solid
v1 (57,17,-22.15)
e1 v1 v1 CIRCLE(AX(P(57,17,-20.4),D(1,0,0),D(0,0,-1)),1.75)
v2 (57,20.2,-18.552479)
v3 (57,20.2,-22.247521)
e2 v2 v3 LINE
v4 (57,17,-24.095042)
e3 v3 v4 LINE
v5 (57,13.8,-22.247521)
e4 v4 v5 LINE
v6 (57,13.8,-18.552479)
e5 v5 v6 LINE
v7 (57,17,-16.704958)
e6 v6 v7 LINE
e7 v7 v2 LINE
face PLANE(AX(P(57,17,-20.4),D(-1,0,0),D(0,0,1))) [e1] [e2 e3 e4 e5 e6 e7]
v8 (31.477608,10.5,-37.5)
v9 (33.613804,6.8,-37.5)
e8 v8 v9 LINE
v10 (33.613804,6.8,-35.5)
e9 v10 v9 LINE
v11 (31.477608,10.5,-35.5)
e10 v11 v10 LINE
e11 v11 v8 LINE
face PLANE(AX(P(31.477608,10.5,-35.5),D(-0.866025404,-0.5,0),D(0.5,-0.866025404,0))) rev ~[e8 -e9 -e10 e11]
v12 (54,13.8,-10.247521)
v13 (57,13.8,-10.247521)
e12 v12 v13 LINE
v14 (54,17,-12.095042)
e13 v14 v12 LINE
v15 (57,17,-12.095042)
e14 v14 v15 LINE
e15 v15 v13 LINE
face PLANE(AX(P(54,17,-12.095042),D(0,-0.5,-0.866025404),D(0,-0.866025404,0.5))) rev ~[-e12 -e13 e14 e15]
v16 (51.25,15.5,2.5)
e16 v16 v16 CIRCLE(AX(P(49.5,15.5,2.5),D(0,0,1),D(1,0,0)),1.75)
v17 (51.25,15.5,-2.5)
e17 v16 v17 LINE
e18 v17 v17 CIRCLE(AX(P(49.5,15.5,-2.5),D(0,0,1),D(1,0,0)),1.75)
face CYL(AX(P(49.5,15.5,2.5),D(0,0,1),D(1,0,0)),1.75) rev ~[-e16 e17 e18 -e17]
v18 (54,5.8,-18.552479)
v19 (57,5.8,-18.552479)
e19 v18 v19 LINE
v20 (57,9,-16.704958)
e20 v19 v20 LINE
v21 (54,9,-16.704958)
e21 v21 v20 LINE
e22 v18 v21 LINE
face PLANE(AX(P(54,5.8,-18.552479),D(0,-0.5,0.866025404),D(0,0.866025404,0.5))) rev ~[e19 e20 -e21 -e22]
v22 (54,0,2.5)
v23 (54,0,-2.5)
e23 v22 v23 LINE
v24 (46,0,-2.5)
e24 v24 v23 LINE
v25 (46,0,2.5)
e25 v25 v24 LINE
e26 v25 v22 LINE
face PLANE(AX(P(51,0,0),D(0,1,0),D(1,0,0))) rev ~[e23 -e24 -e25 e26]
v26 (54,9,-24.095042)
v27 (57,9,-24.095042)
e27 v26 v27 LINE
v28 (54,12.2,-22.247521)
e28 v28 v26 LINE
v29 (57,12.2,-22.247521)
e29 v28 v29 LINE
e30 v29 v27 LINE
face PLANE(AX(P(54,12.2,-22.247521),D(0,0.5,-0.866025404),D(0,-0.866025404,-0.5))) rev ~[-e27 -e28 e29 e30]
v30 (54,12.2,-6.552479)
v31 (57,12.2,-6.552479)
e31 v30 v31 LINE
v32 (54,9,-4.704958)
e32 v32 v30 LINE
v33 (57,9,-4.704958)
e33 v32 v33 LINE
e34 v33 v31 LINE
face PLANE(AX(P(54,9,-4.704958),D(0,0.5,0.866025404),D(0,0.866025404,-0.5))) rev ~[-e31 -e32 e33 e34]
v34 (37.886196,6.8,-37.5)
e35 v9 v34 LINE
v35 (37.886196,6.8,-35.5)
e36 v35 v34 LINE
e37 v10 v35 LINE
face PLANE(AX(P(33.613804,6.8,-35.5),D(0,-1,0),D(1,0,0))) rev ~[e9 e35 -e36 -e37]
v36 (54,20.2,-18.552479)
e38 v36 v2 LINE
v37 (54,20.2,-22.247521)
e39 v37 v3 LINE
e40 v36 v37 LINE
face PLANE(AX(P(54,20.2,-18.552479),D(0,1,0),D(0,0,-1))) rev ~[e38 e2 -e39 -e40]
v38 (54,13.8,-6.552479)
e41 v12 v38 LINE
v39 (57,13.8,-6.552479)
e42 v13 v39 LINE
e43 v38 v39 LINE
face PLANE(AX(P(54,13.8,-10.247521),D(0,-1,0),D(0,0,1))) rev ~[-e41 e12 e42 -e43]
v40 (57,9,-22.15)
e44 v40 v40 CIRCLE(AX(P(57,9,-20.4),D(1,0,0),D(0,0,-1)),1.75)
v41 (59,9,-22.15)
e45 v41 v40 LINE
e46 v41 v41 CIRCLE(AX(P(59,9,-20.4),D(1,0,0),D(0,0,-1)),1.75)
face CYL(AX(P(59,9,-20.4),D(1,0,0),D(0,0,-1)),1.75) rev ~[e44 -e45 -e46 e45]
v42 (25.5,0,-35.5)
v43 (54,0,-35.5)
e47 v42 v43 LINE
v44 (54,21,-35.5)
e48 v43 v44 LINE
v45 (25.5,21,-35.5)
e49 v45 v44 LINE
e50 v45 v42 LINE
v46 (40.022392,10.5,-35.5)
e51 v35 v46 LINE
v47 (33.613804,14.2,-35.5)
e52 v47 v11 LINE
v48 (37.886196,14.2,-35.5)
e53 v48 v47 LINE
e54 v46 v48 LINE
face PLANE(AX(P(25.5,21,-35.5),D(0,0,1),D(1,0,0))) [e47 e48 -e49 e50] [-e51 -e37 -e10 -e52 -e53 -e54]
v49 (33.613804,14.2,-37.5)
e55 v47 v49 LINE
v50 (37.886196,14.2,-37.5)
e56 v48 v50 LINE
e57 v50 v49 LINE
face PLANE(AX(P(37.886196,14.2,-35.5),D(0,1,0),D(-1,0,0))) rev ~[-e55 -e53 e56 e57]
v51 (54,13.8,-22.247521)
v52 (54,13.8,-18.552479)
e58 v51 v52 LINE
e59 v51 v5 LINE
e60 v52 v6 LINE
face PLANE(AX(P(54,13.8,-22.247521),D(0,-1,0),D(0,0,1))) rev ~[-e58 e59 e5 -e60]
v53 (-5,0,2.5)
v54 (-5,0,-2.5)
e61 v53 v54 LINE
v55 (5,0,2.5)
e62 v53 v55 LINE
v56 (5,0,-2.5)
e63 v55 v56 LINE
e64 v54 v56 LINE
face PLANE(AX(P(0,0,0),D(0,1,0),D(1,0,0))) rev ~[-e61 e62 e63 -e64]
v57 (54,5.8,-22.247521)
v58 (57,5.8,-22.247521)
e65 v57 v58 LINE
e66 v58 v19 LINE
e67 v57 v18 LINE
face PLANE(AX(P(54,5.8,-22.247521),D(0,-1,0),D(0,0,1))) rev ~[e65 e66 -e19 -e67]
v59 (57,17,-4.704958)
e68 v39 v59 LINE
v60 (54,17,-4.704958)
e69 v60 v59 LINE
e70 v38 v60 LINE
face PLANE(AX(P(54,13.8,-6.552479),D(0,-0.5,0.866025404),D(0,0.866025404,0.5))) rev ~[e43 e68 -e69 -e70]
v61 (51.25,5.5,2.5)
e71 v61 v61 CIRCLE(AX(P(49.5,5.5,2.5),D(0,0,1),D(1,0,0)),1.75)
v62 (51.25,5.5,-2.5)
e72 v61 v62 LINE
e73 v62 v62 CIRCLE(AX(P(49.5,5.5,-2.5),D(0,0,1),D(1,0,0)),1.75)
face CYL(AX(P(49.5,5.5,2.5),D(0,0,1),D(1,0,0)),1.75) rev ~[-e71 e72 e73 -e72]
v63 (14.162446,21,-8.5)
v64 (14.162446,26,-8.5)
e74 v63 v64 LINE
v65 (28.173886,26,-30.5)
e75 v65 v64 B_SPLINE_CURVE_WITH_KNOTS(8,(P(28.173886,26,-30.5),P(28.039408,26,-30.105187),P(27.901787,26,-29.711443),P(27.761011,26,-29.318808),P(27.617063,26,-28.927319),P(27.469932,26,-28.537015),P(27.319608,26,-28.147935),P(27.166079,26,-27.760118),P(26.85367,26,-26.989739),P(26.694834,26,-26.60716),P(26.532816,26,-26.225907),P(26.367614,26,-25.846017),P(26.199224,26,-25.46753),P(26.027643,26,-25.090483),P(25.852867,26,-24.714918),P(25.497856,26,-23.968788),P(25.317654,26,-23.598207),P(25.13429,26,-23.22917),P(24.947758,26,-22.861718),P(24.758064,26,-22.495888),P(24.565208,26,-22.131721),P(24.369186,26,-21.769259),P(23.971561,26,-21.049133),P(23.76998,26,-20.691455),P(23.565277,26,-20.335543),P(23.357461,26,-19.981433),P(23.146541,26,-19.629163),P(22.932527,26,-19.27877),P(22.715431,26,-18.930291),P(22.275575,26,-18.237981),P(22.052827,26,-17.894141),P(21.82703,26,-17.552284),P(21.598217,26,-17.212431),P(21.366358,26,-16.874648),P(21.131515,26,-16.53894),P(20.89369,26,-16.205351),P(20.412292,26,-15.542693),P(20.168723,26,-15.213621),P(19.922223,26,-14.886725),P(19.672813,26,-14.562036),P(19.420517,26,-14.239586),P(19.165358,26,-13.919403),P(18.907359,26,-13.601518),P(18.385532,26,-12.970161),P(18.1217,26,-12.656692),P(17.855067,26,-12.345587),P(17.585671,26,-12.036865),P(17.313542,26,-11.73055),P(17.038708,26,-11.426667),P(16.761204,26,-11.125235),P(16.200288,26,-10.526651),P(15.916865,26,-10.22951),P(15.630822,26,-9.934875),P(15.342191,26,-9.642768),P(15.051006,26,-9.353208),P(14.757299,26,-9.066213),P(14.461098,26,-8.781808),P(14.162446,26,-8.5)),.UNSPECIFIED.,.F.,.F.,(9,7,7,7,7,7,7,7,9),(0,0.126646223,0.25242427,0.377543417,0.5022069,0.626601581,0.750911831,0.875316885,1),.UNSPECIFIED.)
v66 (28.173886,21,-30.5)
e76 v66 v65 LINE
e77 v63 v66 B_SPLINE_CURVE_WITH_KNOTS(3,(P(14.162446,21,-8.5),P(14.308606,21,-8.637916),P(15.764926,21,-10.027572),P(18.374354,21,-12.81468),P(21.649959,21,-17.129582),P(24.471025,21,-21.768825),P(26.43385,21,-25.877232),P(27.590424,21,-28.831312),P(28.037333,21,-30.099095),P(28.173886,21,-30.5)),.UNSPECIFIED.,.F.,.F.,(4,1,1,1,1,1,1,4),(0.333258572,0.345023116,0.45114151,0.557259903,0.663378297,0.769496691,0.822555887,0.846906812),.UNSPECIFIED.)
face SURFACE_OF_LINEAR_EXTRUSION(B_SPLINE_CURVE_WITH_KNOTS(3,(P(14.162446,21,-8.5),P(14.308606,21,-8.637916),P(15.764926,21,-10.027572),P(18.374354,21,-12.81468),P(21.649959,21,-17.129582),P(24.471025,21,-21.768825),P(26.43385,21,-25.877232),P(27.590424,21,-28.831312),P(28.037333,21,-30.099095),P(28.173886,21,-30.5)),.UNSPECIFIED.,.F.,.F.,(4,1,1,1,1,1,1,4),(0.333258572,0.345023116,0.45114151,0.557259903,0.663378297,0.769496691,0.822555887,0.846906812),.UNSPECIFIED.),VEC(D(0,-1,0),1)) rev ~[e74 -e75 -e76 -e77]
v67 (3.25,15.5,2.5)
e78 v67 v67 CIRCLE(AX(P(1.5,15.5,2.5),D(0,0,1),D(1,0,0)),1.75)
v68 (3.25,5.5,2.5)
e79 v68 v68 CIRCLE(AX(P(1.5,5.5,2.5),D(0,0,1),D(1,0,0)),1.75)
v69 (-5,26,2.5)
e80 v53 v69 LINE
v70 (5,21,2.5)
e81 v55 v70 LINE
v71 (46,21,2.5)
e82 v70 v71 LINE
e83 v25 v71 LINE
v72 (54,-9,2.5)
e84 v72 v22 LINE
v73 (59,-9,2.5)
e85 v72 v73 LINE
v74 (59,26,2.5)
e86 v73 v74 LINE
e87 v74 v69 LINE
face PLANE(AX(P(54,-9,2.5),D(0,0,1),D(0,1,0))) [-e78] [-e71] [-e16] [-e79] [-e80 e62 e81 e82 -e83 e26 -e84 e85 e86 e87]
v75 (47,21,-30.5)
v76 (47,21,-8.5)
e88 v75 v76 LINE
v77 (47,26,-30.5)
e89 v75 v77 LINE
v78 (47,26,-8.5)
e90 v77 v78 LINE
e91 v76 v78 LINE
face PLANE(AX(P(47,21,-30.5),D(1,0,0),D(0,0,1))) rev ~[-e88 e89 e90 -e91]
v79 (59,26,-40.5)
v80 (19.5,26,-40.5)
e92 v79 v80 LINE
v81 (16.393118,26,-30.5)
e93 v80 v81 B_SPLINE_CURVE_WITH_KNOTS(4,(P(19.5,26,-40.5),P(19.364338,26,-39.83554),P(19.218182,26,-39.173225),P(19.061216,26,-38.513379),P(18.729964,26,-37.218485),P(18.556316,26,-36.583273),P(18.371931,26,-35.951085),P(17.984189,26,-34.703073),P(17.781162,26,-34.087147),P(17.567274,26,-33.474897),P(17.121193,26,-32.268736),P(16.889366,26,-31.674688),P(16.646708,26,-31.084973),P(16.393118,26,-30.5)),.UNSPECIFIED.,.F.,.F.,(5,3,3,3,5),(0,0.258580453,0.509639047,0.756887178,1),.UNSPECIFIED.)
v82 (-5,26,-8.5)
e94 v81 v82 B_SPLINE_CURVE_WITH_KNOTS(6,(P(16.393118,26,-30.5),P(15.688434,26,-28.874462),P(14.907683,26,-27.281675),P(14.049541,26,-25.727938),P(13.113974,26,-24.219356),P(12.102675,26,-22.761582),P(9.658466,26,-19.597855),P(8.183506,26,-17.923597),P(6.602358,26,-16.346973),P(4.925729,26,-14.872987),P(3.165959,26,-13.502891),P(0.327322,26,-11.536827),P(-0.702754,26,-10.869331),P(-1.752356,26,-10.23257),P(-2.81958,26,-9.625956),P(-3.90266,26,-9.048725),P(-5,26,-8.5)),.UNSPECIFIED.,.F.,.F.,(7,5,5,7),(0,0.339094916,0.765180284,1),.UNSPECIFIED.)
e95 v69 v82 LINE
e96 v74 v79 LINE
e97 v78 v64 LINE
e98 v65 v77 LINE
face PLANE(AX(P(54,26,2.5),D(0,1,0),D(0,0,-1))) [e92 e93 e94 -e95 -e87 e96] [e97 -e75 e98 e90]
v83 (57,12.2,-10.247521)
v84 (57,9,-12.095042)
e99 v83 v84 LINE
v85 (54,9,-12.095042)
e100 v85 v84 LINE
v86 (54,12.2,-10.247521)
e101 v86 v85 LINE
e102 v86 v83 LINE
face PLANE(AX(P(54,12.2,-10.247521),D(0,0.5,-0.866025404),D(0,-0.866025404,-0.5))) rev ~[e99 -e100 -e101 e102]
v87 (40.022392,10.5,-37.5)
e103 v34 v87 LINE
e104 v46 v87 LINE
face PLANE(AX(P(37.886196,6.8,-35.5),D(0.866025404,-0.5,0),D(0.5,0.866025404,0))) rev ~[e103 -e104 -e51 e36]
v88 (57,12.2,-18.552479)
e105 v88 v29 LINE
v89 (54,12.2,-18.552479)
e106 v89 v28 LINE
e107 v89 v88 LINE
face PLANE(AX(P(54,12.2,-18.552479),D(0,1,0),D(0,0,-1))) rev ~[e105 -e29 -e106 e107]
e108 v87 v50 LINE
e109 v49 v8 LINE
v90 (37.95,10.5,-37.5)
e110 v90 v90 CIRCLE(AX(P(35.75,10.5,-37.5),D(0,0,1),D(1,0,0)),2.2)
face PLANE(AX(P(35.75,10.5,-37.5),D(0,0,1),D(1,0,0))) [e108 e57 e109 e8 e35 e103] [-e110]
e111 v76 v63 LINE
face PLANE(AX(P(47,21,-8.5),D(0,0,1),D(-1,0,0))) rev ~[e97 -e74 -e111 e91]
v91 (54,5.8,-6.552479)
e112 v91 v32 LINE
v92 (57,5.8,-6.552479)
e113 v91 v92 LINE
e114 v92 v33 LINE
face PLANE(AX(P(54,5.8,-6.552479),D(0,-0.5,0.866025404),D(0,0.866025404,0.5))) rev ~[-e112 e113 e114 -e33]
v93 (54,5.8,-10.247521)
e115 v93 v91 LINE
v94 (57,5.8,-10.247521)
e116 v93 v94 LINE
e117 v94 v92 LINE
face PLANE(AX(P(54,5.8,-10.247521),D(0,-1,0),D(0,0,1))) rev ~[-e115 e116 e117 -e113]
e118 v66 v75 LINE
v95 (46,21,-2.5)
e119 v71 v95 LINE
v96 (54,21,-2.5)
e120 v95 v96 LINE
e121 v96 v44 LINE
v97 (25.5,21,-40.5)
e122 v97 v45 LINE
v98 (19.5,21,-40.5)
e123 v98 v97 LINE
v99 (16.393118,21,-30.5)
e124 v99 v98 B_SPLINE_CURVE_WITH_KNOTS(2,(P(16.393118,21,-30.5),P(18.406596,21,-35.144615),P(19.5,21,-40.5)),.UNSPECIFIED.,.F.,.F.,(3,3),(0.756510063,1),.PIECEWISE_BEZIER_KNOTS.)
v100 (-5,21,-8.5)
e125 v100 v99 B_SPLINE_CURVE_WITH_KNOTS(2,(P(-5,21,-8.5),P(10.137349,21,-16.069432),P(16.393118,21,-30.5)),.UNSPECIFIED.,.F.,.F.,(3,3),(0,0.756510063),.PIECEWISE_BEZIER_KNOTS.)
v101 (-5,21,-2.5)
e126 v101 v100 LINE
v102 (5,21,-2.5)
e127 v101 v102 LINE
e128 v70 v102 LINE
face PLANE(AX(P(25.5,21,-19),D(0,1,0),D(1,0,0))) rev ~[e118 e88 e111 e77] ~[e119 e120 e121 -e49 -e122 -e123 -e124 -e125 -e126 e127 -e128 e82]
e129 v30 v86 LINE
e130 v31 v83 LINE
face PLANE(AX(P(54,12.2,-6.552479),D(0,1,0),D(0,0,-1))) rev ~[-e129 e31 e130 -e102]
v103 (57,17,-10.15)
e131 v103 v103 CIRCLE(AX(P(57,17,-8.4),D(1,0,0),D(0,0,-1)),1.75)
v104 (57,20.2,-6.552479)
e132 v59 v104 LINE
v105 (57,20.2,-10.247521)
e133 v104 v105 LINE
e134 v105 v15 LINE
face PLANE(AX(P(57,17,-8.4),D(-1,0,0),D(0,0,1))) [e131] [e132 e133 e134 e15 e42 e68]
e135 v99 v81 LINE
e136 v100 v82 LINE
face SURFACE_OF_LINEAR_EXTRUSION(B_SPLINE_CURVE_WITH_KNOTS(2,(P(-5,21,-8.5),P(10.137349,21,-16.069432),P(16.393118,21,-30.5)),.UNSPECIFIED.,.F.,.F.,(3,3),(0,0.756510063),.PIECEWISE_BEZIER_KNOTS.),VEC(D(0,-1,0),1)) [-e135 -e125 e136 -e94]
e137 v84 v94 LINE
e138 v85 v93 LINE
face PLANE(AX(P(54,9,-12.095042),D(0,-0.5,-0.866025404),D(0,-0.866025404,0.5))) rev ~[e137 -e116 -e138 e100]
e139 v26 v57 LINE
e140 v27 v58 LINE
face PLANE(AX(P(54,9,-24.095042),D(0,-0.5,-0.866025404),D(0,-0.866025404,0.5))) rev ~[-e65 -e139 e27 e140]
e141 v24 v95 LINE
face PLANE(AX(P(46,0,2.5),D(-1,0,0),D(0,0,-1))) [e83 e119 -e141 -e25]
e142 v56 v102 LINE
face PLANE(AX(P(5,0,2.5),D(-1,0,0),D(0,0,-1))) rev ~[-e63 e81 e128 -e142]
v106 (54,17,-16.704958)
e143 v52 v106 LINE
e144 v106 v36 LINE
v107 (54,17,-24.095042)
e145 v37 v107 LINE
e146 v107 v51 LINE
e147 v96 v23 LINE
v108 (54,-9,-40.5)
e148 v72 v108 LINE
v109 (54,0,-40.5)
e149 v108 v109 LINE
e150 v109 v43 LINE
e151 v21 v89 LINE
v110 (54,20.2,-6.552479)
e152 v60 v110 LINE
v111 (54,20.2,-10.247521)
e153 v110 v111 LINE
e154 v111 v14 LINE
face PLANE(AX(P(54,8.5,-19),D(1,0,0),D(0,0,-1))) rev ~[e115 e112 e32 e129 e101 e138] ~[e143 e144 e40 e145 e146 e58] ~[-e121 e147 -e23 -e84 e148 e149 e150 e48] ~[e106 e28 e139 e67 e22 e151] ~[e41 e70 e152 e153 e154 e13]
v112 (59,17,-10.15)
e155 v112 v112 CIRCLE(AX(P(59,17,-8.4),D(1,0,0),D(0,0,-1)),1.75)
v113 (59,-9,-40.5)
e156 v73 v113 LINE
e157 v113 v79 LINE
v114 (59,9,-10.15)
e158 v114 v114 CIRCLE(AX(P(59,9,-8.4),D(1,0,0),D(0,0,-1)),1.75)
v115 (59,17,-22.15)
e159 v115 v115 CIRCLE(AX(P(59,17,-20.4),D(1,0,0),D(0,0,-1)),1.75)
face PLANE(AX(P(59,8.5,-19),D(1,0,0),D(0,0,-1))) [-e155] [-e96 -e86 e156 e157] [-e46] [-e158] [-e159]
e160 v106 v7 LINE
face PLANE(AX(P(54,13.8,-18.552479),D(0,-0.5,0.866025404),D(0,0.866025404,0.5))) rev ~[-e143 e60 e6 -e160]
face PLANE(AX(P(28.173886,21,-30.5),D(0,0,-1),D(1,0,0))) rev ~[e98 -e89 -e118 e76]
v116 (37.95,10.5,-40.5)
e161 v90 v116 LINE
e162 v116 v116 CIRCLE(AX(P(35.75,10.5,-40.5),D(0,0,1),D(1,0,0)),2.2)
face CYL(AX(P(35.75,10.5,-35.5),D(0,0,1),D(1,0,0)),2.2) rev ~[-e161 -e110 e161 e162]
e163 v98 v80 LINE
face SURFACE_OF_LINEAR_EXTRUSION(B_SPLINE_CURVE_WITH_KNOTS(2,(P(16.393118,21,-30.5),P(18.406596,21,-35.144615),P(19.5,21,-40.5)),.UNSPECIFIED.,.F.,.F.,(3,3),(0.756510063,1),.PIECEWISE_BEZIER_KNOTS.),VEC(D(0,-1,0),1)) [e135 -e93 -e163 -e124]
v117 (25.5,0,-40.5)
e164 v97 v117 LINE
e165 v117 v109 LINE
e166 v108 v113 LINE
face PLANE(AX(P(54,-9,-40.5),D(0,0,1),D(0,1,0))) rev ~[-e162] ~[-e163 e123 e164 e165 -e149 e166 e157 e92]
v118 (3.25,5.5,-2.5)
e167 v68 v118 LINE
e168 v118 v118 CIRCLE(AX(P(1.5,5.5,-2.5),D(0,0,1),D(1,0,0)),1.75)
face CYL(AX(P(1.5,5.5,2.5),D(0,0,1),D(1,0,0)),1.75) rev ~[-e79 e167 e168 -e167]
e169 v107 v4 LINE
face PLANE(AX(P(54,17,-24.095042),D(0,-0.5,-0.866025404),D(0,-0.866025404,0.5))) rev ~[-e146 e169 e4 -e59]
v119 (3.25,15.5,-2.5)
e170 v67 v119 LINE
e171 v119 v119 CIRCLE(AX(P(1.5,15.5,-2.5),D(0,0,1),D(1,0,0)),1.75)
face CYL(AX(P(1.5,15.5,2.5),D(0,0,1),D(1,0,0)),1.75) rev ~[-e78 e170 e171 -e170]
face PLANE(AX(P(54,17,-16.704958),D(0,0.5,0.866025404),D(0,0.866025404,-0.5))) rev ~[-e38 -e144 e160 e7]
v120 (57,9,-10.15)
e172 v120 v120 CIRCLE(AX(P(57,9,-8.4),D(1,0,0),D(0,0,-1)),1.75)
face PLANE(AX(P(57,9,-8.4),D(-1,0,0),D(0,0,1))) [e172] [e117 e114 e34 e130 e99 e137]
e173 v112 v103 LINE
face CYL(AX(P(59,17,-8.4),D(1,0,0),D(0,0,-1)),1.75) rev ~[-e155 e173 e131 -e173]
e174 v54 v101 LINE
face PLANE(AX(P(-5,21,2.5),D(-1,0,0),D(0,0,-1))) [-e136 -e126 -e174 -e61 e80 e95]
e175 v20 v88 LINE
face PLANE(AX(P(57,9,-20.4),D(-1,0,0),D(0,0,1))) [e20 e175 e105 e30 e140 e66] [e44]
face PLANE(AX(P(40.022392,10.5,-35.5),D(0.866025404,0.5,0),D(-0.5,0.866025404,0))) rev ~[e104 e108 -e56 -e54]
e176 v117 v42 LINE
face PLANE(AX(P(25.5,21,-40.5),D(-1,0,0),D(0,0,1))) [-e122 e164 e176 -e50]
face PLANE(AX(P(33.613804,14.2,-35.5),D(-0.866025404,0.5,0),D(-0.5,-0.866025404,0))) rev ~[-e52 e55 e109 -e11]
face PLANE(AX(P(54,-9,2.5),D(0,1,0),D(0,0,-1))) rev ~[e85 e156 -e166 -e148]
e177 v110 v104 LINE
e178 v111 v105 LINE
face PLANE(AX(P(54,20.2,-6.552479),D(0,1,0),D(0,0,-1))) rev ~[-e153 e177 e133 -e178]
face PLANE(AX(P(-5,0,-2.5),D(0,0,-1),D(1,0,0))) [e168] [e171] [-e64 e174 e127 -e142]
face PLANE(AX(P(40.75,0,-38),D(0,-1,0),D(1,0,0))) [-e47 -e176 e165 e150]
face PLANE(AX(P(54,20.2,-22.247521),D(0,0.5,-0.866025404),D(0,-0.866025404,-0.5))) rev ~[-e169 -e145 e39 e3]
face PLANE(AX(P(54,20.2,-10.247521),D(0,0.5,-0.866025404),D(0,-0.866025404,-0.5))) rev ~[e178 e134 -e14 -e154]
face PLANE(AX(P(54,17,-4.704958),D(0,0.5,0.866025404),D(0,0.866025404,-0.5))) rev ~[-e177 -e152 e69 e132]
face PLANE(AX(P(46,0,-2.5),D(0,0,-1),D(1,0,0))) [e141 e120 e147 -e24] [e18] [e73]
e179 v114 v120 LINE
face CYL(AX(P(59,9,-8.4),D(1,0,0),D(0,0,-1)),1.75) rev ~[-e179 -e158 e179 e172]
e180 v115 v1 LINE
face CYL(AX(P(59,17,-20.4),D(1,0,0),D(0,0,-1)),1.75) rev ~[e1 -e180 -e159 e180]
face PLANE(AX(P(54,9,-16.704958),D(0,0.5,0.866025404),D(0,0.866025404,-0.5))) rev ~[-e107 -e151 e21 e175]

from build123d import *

# Parameters (mm, degrees)
SKETCH1_W                = 10
SKETCH1_H                = 5
BOSS_EXTRUDE1_DEPTH      = 21
BOSS_EXTRUDE1_2_DEPTH    = 21
SKETCH2_W                = 61
SKETCH2_H                = 43
BOSS_EXTRUDE2_DEPTH      = 5
SKETCH3_W                = 30.5
SKETCH3_H                = 5
BOSS_EXTRUDE3_DEPTH      = 21
CUT_EXTRUDE1_REACH       = 74.498
SKETCH4_R                = 2.2
CUT_EXTRUDE2_REACH       = 77.24
SKETCH5_R                = 1.75
CUT_EXTRUDE4_REACH       = 74.231
BOSS_EXTRUDE4_DEPTH      = 3
BOSS_EXTRUDE4_DEPTH_BACK = 2
SKETCH10_W               = 43
SKETCH10_H               = 35
CUT_EXTRUDE5_DEPTH       = 2
CUT_EXTRUDE6_REACH       = 82.077
SKETCH12_R               = 1.75
CUT_EXTRUDE7_DEPTH       = 3


with BuildPart() as part:
    # Sketch1 → Boss-Extrude1 (new body)
    with BuildSketch(Plane(origin=(0, 0, 0), x_dir=(1, 0, 0), z_dir=(0, 1, 0))):
        Rectangle(SKETCH1_W, SKETCH1_H)
    extrude(amount=BOSS_EXTRUDE1_DEPTH)



with BuildPart() as body_2:
    # Sketch1 → Boss-Extrude1 2 (new body)
    with BuildSketch(Plane(origin=(0, 0, 0), x_dir=(1, 0, 0), z_dir=(0, 1, 0))):
        with Locations((51, 0)):
            Rectangle(SKETCH1_W, SKETCH1_H)
    extrude(amount=BOSS_EXTRUDE1_2_DEPTH)


with BuildPart() as part_1:
    add(part.part)

    add(body_2.part)  # Boss-Extrude2 merges body 2
    # Sketch2 → Boss-Extrude2 (add)
    with BuildSketch(Plane(origin=(0, 21, 0), x_dir=(1, 0, 0), z_dir=(0, 1, 0))):
        with Locations((25.5, 19)):
            Rectangle(SKETCH2_W, SKETCH2_H)
    extrude(amount=BOSS_EXTRUDE2_DEPTH)

    # Sketch3 → Boss-Extrude3 (add)
    with BuildSketch(Plane.XZ.offset(-21)):
        with Locations((40.75, -38)):
            Rectangle(SKETCH3_W, SKETCH3_H)
    extrude(amount=BOSS_EXTRUDE3_DEPTH)

    # Sketch4 → Cut-Extrude1 (cut, up to next)
    with BuildSketch(Plane.XY.offset(-35.5), mode=Mode.PRIVATE) as cut_extrude1_sk1:
        with Locations((35.75, 10.5)):
            Circle(SKETCH4_R)
    cut_extrude1_tool1 = extrude(cut_extrude1_sk1.sketch, amount=-CUT_EXTRUDE1_REACH, mode=Mode.PRIVATE) & part_1.part
    add(cut_extrude1_tool1.solids().sort_by_distance((35.75, 10.5, -35.5))[0], mode=Mode.SUBTRACT)

    # Sketch5 → Cut-Extrude2 (cut, up to next)
    with BuildSketch(Plane.XY.offset(2.5), mode=Mode.PRIVATE) as cut_extrude2_sk1:
        with Locations((1.5, 15.5)):
            Circle(SKETCH5_R)
    cut_extrude2_tool1 = extrude(cut_extrude2_sk1.sketch, amount=-CUT_EXTRUDE2_REACH, mode=Mode.PRIVATE) & part_1.part
    # Sketch5 → Cut-Extrude2 (cut, up to next)
    with BuildSketch(Plane.XY.offset(2.5), mode=Mode.PRIVATE) as cut_extrude2_sk2:
        with Locations((49.5, 15.5)):
            Circle(SKETCH5_R)
    cut_extrude2_tool2 = extrude(cut_extrude2_sk2.sketch, amount=-CUT_EXTRUDE2_REACH, mode=Mode.PRIVATE) & part_1.part
    # Sketch5 → Cut-Extrude2 (cut, up to next)
    with BuildSketch(Plane.XY.offset(2.5), mode=Mode.PRIVATE) as cut_extrude2_sk3:
        with Locations((49.5, 5.5)):
            Circle(SKETCH5_R)
    cut_extrude2_tool3 = extrude(cut_extrude2_sk3.sketch, amount=-CUT_EXTRUDE2_REACH, mode=Mode.PRIVATE) & part_1.part
    # Sketch5 → Cut-Extrude2 (cut, up to next)
    with BuildSketch(Plane.XY.offset(2.5), mode=Mode.PRIVATE) as cut_extrude2_sk4:
        with Locations((1.5, 5.5)):
            Circle(SKETCH5_R)
    cut_extrude2_tool4 = extrude(cut_extrude2_sk4.sketch, amount=-CUT_EXTRUDE2_REACH, mode=Mode.PRIVATE) & part_1.part
    add(cut_extrude2_tool1.solids().sort_by_distance((1.5, 15.5, 2.5))[0], mode=Mode.SUBTRACT)
    add(cut_extrude2_tool2.solids().sort_by_distance((49.5, 15.5, 2.5))[0], mode=Mode.SUBTRACT)
    add(cut_extrude2_tool3.solids().sort_by_distance((49.5, 5.5, 2.5))[0], mode=Mode.SUBTRACT)
    add(cut_extrude2_tool4.solids().sort_by_distance((1.5, 5.5, 2.5))[0], mode=Mode.SUBTRACT)

    # Sketch7 → Cut-Extrude4 (cut, up to next)
    with BuildSketch(Plane.XZ.offset(-21), mode=Mode.PRIVATE) as cut_extrude4_sk1:
        with BuildLine():
            add(Edge.make_bspline(
                [(-5, -8.5), (10.13734929, -16.069431505), (16.393117595, -30.5)],
                knots=[0, 0, 0, 0.756510063, 0.756510063, 0.756510063], degree=2))
            Line((-5, -8.5), (-5, -40.5))
            Line((-5, -40.5), (19.5, -40.5))
            add(Edge.make_bspline(
                [(16.393117595, -30.5), (18.406595945, -35.144615311), (19.5, -40.5)],
                knots=[0.756510063, 0.756510063, 0.756510063, 1, 1, 1], degree=2))
        make_face()
    cut_extrude4_tool1 = extrude(cut_extrude4_sk1.sketch, amount=-CUT_EXTRUDE4_REACH, mode=Mode.PRIVATE) & part_1.part
    # Sketch7 → Cut-Extrude4 (cut, up to next)
    with BuildSketch(Plane.XZ.offset(-21), mode=Mode.PRIVATE) as cut_extrude4_sk2:
        with BuildLine():
            add(Edge.make_bspline(
                [(14.162446419, -8.5), (14.308605592, -8.637915777), (15.764925912, -10.027572407), (18.374354372, -12.814680355), (21.64995854, -17.12958205), (24.471025142, -21.768825406), (26.433850498, -25.877231684), (27.590424444, -28.831311595), (28.037332794, -30.099095454), (28.173885888, -30.5)],
                knots=[0.333258572, 0.333258572, 0.333258572, 0.333258572, 0.345023116, 0.45114151, 0.557259903, 0.663378297, 0.769496691, 0.822555887, 0.846906812, 0.846906812, 0.846906812, 0.846906812], degree=3))
            Line((28.173885888, -30.5), (47, -30.5))
            Line((47, -30.5), (47, -8.5))
            Line((47, -8.5), (46, -8.5))
            Line((46, -8.5), (14.162446419, -8.5))
        make_face()
    cut_extrude4_tool2 = extrude(cut_extrude4_sk2.sketch, amount=-CUT_EXTRUDE4_REACH, mode=Mode.PRIVATE) & part_1.part
    add(cut_extrude4_tool1.solids().sort_by_distance((4.583978, 21, -28.190426))[0], mode=Mode.SUBTRACT)
    add(cut_extrude4_tool2.solids().sort_by_distance((34.394415, 21, -18.474006))[0], mode=Mode.SUBTRACT)

    # Sketch10 → Boss-Extrude4 (add, two sides: drawn at the far end of the back side and taken through both)
    with BuildSketch(Plane(origin=(56, 0, 0), x_dir=(0, 0, -1), z_dir=(1, 0, 0)).offset(-BOSS_EXTRUDE4_DEPTH_BACK)):
        with Locations((19, 8.5)):
            Rectangle(SKETCH10_W, SKETCH10_H)
    extrude(amount=BOSS_EXTRUDE4_DEPTH + BOSS_EXTRUDE4_DEPTH_BACK)

    # Sketch11 → Cut-Extrude5 (cut)
    with BuildSketch(Plane.XY.offset(-35.5)):
        Polygon((37.886195996, 14.2), (33.613804004, 14.2), (31.477608008, 10.5), (33.613804004, 6.8), (37.886195996, 6.8), (40.022391992, 10.5), align=None)
    extrude(amount=-CUT_EXTRUDE5_DEPTH, mode=Mode.SUBTRACT)

    # Sketch12 → Cut-Extrude6 (cut, up to next)
    with BuildSketch(Plane(origin=(59, 0, 0), x_dir=(0, 0, -1), z_dir=(1, 0, 0)), mode=Mode.PRIVATE) as cut_extrude6_sk1:
        with Locations((8.4, 17)):
            Circle(SKETCH12_R)
    cut_extrude6_tool1 = extrude(cut_extrude6_sk1.sketch, amount=-CUT_EXTRUDE6_REACH, mode=Mode.PRIVATE) & part_1.part
    # Sketch12 → Cut-Extrude6 (cut, up to next)
    with BuildSketch(Plane(origin=(59, 0, 0), x_dir=(0, 0, -1), z_dir=(1, 0, 0)), mode=Mode.PRIVATE) as cut_extrude6_sk2:
        with Locations((8.4, 9)):
            Circle(SKETCH12_R)
    cut_extrude6_tool2 = extrude(cut_extrude6_sk2.sketch, amount=-CUT_EXTRUDE6_REACH, mode=Mode.PRIVATE) & part_1.part
    # Sketch12 → Cut-Extrude6 (cut, up to next)
    with BuildSketch(Plane(origin=(59, 0, 0), x_dir=(0, 0, -1), z_dir=(1, 0, 0)), mode=Mode.PRIVATE) as cut_extrude6_sk3:
        with Locations((20.4, 17)):
            Circle(SKETCH12_R)
    cut_extrude6_tool3 = extrude(cut_extrude6_sk3.sketch, amount=-CUT_EXTRUDE6_REACH, mode=Mode.PRIVATE) & part_1.part
    # Sketch12 → Cut-Extrude6 (cut, up to next)
    with BuildSketch(Plane(origin=(59, 0, 0), x_dir=(0, 0, -1), z_dir=(1, 0, 0)), mode=Mode.PRIVATE) as cut_extrude6_sk4:
        with Locations((20.4, 9)):
            Circle(SKETCH12_R)
    cut_extrude6_tool4 = extrude(cut_extrude6_sk4.sketch, amount=-CUT_EXTRUDE6_REACH, mode=Mode.PRIVATE) & part_1.part
    add(cut_extrude6_tool1.solids().sort_by_distance((59, 17, -8.4))[0], mode=Mode.SUBTRACT)
    add(cut_extrude6_tool2.solids().sort_by_distance((59, 9, -8.4))[0], mode=Mode.SUBTRACT)
    add(cut_extrude6_tool3.solids().sort_by_distance((59, 17, -20.4))[0], mode=Mode.SUBTRACT)
    add(cut_extrude6_tool4.solids().sort_by_distance((59, 9, -20.4))[0], mode=Mode.SUBTRACT)

    # Sketch13 → Cut-Extrude7 (cut)
    with BuildSketch(Plane.ZY.offset(-54)):
        Polygon((-12.095041723, 17), (-10.247520861, 13.8), (-6.552479139, 13.8), (-4.704958277, 17), (-6.552479139, 20.2), (-10.247520861, 20.2), align=None)
        Polygon((-10.247520861, 5.8), (-6.552479139, 5.8), (-4.704958277, 9), (-6.552479139, 12.2), (-10.247520861, 12.2), (-12.095041723, 9), align=None)
        Polygon((-18.552479139, 20.2), (-22.247520861, 20.2), (-24.095041723, 17), (-22.247520861, 13.8), (-18.552479139, 13.8), (-16.704958277, 17), align=None)
        Polygon((-22.247520861, 12.2), (-24.095041723, 9), (-22.247520861, 5.8), (-18.552479139, 5.8), (-16.704958277, 9), (-18.552479139, 12.2), align=None)
    extrude(amount=-CUT_EXTRUDE7_DEPTH, mode=Mode.SUBTRACT)


solid = part_1.part
